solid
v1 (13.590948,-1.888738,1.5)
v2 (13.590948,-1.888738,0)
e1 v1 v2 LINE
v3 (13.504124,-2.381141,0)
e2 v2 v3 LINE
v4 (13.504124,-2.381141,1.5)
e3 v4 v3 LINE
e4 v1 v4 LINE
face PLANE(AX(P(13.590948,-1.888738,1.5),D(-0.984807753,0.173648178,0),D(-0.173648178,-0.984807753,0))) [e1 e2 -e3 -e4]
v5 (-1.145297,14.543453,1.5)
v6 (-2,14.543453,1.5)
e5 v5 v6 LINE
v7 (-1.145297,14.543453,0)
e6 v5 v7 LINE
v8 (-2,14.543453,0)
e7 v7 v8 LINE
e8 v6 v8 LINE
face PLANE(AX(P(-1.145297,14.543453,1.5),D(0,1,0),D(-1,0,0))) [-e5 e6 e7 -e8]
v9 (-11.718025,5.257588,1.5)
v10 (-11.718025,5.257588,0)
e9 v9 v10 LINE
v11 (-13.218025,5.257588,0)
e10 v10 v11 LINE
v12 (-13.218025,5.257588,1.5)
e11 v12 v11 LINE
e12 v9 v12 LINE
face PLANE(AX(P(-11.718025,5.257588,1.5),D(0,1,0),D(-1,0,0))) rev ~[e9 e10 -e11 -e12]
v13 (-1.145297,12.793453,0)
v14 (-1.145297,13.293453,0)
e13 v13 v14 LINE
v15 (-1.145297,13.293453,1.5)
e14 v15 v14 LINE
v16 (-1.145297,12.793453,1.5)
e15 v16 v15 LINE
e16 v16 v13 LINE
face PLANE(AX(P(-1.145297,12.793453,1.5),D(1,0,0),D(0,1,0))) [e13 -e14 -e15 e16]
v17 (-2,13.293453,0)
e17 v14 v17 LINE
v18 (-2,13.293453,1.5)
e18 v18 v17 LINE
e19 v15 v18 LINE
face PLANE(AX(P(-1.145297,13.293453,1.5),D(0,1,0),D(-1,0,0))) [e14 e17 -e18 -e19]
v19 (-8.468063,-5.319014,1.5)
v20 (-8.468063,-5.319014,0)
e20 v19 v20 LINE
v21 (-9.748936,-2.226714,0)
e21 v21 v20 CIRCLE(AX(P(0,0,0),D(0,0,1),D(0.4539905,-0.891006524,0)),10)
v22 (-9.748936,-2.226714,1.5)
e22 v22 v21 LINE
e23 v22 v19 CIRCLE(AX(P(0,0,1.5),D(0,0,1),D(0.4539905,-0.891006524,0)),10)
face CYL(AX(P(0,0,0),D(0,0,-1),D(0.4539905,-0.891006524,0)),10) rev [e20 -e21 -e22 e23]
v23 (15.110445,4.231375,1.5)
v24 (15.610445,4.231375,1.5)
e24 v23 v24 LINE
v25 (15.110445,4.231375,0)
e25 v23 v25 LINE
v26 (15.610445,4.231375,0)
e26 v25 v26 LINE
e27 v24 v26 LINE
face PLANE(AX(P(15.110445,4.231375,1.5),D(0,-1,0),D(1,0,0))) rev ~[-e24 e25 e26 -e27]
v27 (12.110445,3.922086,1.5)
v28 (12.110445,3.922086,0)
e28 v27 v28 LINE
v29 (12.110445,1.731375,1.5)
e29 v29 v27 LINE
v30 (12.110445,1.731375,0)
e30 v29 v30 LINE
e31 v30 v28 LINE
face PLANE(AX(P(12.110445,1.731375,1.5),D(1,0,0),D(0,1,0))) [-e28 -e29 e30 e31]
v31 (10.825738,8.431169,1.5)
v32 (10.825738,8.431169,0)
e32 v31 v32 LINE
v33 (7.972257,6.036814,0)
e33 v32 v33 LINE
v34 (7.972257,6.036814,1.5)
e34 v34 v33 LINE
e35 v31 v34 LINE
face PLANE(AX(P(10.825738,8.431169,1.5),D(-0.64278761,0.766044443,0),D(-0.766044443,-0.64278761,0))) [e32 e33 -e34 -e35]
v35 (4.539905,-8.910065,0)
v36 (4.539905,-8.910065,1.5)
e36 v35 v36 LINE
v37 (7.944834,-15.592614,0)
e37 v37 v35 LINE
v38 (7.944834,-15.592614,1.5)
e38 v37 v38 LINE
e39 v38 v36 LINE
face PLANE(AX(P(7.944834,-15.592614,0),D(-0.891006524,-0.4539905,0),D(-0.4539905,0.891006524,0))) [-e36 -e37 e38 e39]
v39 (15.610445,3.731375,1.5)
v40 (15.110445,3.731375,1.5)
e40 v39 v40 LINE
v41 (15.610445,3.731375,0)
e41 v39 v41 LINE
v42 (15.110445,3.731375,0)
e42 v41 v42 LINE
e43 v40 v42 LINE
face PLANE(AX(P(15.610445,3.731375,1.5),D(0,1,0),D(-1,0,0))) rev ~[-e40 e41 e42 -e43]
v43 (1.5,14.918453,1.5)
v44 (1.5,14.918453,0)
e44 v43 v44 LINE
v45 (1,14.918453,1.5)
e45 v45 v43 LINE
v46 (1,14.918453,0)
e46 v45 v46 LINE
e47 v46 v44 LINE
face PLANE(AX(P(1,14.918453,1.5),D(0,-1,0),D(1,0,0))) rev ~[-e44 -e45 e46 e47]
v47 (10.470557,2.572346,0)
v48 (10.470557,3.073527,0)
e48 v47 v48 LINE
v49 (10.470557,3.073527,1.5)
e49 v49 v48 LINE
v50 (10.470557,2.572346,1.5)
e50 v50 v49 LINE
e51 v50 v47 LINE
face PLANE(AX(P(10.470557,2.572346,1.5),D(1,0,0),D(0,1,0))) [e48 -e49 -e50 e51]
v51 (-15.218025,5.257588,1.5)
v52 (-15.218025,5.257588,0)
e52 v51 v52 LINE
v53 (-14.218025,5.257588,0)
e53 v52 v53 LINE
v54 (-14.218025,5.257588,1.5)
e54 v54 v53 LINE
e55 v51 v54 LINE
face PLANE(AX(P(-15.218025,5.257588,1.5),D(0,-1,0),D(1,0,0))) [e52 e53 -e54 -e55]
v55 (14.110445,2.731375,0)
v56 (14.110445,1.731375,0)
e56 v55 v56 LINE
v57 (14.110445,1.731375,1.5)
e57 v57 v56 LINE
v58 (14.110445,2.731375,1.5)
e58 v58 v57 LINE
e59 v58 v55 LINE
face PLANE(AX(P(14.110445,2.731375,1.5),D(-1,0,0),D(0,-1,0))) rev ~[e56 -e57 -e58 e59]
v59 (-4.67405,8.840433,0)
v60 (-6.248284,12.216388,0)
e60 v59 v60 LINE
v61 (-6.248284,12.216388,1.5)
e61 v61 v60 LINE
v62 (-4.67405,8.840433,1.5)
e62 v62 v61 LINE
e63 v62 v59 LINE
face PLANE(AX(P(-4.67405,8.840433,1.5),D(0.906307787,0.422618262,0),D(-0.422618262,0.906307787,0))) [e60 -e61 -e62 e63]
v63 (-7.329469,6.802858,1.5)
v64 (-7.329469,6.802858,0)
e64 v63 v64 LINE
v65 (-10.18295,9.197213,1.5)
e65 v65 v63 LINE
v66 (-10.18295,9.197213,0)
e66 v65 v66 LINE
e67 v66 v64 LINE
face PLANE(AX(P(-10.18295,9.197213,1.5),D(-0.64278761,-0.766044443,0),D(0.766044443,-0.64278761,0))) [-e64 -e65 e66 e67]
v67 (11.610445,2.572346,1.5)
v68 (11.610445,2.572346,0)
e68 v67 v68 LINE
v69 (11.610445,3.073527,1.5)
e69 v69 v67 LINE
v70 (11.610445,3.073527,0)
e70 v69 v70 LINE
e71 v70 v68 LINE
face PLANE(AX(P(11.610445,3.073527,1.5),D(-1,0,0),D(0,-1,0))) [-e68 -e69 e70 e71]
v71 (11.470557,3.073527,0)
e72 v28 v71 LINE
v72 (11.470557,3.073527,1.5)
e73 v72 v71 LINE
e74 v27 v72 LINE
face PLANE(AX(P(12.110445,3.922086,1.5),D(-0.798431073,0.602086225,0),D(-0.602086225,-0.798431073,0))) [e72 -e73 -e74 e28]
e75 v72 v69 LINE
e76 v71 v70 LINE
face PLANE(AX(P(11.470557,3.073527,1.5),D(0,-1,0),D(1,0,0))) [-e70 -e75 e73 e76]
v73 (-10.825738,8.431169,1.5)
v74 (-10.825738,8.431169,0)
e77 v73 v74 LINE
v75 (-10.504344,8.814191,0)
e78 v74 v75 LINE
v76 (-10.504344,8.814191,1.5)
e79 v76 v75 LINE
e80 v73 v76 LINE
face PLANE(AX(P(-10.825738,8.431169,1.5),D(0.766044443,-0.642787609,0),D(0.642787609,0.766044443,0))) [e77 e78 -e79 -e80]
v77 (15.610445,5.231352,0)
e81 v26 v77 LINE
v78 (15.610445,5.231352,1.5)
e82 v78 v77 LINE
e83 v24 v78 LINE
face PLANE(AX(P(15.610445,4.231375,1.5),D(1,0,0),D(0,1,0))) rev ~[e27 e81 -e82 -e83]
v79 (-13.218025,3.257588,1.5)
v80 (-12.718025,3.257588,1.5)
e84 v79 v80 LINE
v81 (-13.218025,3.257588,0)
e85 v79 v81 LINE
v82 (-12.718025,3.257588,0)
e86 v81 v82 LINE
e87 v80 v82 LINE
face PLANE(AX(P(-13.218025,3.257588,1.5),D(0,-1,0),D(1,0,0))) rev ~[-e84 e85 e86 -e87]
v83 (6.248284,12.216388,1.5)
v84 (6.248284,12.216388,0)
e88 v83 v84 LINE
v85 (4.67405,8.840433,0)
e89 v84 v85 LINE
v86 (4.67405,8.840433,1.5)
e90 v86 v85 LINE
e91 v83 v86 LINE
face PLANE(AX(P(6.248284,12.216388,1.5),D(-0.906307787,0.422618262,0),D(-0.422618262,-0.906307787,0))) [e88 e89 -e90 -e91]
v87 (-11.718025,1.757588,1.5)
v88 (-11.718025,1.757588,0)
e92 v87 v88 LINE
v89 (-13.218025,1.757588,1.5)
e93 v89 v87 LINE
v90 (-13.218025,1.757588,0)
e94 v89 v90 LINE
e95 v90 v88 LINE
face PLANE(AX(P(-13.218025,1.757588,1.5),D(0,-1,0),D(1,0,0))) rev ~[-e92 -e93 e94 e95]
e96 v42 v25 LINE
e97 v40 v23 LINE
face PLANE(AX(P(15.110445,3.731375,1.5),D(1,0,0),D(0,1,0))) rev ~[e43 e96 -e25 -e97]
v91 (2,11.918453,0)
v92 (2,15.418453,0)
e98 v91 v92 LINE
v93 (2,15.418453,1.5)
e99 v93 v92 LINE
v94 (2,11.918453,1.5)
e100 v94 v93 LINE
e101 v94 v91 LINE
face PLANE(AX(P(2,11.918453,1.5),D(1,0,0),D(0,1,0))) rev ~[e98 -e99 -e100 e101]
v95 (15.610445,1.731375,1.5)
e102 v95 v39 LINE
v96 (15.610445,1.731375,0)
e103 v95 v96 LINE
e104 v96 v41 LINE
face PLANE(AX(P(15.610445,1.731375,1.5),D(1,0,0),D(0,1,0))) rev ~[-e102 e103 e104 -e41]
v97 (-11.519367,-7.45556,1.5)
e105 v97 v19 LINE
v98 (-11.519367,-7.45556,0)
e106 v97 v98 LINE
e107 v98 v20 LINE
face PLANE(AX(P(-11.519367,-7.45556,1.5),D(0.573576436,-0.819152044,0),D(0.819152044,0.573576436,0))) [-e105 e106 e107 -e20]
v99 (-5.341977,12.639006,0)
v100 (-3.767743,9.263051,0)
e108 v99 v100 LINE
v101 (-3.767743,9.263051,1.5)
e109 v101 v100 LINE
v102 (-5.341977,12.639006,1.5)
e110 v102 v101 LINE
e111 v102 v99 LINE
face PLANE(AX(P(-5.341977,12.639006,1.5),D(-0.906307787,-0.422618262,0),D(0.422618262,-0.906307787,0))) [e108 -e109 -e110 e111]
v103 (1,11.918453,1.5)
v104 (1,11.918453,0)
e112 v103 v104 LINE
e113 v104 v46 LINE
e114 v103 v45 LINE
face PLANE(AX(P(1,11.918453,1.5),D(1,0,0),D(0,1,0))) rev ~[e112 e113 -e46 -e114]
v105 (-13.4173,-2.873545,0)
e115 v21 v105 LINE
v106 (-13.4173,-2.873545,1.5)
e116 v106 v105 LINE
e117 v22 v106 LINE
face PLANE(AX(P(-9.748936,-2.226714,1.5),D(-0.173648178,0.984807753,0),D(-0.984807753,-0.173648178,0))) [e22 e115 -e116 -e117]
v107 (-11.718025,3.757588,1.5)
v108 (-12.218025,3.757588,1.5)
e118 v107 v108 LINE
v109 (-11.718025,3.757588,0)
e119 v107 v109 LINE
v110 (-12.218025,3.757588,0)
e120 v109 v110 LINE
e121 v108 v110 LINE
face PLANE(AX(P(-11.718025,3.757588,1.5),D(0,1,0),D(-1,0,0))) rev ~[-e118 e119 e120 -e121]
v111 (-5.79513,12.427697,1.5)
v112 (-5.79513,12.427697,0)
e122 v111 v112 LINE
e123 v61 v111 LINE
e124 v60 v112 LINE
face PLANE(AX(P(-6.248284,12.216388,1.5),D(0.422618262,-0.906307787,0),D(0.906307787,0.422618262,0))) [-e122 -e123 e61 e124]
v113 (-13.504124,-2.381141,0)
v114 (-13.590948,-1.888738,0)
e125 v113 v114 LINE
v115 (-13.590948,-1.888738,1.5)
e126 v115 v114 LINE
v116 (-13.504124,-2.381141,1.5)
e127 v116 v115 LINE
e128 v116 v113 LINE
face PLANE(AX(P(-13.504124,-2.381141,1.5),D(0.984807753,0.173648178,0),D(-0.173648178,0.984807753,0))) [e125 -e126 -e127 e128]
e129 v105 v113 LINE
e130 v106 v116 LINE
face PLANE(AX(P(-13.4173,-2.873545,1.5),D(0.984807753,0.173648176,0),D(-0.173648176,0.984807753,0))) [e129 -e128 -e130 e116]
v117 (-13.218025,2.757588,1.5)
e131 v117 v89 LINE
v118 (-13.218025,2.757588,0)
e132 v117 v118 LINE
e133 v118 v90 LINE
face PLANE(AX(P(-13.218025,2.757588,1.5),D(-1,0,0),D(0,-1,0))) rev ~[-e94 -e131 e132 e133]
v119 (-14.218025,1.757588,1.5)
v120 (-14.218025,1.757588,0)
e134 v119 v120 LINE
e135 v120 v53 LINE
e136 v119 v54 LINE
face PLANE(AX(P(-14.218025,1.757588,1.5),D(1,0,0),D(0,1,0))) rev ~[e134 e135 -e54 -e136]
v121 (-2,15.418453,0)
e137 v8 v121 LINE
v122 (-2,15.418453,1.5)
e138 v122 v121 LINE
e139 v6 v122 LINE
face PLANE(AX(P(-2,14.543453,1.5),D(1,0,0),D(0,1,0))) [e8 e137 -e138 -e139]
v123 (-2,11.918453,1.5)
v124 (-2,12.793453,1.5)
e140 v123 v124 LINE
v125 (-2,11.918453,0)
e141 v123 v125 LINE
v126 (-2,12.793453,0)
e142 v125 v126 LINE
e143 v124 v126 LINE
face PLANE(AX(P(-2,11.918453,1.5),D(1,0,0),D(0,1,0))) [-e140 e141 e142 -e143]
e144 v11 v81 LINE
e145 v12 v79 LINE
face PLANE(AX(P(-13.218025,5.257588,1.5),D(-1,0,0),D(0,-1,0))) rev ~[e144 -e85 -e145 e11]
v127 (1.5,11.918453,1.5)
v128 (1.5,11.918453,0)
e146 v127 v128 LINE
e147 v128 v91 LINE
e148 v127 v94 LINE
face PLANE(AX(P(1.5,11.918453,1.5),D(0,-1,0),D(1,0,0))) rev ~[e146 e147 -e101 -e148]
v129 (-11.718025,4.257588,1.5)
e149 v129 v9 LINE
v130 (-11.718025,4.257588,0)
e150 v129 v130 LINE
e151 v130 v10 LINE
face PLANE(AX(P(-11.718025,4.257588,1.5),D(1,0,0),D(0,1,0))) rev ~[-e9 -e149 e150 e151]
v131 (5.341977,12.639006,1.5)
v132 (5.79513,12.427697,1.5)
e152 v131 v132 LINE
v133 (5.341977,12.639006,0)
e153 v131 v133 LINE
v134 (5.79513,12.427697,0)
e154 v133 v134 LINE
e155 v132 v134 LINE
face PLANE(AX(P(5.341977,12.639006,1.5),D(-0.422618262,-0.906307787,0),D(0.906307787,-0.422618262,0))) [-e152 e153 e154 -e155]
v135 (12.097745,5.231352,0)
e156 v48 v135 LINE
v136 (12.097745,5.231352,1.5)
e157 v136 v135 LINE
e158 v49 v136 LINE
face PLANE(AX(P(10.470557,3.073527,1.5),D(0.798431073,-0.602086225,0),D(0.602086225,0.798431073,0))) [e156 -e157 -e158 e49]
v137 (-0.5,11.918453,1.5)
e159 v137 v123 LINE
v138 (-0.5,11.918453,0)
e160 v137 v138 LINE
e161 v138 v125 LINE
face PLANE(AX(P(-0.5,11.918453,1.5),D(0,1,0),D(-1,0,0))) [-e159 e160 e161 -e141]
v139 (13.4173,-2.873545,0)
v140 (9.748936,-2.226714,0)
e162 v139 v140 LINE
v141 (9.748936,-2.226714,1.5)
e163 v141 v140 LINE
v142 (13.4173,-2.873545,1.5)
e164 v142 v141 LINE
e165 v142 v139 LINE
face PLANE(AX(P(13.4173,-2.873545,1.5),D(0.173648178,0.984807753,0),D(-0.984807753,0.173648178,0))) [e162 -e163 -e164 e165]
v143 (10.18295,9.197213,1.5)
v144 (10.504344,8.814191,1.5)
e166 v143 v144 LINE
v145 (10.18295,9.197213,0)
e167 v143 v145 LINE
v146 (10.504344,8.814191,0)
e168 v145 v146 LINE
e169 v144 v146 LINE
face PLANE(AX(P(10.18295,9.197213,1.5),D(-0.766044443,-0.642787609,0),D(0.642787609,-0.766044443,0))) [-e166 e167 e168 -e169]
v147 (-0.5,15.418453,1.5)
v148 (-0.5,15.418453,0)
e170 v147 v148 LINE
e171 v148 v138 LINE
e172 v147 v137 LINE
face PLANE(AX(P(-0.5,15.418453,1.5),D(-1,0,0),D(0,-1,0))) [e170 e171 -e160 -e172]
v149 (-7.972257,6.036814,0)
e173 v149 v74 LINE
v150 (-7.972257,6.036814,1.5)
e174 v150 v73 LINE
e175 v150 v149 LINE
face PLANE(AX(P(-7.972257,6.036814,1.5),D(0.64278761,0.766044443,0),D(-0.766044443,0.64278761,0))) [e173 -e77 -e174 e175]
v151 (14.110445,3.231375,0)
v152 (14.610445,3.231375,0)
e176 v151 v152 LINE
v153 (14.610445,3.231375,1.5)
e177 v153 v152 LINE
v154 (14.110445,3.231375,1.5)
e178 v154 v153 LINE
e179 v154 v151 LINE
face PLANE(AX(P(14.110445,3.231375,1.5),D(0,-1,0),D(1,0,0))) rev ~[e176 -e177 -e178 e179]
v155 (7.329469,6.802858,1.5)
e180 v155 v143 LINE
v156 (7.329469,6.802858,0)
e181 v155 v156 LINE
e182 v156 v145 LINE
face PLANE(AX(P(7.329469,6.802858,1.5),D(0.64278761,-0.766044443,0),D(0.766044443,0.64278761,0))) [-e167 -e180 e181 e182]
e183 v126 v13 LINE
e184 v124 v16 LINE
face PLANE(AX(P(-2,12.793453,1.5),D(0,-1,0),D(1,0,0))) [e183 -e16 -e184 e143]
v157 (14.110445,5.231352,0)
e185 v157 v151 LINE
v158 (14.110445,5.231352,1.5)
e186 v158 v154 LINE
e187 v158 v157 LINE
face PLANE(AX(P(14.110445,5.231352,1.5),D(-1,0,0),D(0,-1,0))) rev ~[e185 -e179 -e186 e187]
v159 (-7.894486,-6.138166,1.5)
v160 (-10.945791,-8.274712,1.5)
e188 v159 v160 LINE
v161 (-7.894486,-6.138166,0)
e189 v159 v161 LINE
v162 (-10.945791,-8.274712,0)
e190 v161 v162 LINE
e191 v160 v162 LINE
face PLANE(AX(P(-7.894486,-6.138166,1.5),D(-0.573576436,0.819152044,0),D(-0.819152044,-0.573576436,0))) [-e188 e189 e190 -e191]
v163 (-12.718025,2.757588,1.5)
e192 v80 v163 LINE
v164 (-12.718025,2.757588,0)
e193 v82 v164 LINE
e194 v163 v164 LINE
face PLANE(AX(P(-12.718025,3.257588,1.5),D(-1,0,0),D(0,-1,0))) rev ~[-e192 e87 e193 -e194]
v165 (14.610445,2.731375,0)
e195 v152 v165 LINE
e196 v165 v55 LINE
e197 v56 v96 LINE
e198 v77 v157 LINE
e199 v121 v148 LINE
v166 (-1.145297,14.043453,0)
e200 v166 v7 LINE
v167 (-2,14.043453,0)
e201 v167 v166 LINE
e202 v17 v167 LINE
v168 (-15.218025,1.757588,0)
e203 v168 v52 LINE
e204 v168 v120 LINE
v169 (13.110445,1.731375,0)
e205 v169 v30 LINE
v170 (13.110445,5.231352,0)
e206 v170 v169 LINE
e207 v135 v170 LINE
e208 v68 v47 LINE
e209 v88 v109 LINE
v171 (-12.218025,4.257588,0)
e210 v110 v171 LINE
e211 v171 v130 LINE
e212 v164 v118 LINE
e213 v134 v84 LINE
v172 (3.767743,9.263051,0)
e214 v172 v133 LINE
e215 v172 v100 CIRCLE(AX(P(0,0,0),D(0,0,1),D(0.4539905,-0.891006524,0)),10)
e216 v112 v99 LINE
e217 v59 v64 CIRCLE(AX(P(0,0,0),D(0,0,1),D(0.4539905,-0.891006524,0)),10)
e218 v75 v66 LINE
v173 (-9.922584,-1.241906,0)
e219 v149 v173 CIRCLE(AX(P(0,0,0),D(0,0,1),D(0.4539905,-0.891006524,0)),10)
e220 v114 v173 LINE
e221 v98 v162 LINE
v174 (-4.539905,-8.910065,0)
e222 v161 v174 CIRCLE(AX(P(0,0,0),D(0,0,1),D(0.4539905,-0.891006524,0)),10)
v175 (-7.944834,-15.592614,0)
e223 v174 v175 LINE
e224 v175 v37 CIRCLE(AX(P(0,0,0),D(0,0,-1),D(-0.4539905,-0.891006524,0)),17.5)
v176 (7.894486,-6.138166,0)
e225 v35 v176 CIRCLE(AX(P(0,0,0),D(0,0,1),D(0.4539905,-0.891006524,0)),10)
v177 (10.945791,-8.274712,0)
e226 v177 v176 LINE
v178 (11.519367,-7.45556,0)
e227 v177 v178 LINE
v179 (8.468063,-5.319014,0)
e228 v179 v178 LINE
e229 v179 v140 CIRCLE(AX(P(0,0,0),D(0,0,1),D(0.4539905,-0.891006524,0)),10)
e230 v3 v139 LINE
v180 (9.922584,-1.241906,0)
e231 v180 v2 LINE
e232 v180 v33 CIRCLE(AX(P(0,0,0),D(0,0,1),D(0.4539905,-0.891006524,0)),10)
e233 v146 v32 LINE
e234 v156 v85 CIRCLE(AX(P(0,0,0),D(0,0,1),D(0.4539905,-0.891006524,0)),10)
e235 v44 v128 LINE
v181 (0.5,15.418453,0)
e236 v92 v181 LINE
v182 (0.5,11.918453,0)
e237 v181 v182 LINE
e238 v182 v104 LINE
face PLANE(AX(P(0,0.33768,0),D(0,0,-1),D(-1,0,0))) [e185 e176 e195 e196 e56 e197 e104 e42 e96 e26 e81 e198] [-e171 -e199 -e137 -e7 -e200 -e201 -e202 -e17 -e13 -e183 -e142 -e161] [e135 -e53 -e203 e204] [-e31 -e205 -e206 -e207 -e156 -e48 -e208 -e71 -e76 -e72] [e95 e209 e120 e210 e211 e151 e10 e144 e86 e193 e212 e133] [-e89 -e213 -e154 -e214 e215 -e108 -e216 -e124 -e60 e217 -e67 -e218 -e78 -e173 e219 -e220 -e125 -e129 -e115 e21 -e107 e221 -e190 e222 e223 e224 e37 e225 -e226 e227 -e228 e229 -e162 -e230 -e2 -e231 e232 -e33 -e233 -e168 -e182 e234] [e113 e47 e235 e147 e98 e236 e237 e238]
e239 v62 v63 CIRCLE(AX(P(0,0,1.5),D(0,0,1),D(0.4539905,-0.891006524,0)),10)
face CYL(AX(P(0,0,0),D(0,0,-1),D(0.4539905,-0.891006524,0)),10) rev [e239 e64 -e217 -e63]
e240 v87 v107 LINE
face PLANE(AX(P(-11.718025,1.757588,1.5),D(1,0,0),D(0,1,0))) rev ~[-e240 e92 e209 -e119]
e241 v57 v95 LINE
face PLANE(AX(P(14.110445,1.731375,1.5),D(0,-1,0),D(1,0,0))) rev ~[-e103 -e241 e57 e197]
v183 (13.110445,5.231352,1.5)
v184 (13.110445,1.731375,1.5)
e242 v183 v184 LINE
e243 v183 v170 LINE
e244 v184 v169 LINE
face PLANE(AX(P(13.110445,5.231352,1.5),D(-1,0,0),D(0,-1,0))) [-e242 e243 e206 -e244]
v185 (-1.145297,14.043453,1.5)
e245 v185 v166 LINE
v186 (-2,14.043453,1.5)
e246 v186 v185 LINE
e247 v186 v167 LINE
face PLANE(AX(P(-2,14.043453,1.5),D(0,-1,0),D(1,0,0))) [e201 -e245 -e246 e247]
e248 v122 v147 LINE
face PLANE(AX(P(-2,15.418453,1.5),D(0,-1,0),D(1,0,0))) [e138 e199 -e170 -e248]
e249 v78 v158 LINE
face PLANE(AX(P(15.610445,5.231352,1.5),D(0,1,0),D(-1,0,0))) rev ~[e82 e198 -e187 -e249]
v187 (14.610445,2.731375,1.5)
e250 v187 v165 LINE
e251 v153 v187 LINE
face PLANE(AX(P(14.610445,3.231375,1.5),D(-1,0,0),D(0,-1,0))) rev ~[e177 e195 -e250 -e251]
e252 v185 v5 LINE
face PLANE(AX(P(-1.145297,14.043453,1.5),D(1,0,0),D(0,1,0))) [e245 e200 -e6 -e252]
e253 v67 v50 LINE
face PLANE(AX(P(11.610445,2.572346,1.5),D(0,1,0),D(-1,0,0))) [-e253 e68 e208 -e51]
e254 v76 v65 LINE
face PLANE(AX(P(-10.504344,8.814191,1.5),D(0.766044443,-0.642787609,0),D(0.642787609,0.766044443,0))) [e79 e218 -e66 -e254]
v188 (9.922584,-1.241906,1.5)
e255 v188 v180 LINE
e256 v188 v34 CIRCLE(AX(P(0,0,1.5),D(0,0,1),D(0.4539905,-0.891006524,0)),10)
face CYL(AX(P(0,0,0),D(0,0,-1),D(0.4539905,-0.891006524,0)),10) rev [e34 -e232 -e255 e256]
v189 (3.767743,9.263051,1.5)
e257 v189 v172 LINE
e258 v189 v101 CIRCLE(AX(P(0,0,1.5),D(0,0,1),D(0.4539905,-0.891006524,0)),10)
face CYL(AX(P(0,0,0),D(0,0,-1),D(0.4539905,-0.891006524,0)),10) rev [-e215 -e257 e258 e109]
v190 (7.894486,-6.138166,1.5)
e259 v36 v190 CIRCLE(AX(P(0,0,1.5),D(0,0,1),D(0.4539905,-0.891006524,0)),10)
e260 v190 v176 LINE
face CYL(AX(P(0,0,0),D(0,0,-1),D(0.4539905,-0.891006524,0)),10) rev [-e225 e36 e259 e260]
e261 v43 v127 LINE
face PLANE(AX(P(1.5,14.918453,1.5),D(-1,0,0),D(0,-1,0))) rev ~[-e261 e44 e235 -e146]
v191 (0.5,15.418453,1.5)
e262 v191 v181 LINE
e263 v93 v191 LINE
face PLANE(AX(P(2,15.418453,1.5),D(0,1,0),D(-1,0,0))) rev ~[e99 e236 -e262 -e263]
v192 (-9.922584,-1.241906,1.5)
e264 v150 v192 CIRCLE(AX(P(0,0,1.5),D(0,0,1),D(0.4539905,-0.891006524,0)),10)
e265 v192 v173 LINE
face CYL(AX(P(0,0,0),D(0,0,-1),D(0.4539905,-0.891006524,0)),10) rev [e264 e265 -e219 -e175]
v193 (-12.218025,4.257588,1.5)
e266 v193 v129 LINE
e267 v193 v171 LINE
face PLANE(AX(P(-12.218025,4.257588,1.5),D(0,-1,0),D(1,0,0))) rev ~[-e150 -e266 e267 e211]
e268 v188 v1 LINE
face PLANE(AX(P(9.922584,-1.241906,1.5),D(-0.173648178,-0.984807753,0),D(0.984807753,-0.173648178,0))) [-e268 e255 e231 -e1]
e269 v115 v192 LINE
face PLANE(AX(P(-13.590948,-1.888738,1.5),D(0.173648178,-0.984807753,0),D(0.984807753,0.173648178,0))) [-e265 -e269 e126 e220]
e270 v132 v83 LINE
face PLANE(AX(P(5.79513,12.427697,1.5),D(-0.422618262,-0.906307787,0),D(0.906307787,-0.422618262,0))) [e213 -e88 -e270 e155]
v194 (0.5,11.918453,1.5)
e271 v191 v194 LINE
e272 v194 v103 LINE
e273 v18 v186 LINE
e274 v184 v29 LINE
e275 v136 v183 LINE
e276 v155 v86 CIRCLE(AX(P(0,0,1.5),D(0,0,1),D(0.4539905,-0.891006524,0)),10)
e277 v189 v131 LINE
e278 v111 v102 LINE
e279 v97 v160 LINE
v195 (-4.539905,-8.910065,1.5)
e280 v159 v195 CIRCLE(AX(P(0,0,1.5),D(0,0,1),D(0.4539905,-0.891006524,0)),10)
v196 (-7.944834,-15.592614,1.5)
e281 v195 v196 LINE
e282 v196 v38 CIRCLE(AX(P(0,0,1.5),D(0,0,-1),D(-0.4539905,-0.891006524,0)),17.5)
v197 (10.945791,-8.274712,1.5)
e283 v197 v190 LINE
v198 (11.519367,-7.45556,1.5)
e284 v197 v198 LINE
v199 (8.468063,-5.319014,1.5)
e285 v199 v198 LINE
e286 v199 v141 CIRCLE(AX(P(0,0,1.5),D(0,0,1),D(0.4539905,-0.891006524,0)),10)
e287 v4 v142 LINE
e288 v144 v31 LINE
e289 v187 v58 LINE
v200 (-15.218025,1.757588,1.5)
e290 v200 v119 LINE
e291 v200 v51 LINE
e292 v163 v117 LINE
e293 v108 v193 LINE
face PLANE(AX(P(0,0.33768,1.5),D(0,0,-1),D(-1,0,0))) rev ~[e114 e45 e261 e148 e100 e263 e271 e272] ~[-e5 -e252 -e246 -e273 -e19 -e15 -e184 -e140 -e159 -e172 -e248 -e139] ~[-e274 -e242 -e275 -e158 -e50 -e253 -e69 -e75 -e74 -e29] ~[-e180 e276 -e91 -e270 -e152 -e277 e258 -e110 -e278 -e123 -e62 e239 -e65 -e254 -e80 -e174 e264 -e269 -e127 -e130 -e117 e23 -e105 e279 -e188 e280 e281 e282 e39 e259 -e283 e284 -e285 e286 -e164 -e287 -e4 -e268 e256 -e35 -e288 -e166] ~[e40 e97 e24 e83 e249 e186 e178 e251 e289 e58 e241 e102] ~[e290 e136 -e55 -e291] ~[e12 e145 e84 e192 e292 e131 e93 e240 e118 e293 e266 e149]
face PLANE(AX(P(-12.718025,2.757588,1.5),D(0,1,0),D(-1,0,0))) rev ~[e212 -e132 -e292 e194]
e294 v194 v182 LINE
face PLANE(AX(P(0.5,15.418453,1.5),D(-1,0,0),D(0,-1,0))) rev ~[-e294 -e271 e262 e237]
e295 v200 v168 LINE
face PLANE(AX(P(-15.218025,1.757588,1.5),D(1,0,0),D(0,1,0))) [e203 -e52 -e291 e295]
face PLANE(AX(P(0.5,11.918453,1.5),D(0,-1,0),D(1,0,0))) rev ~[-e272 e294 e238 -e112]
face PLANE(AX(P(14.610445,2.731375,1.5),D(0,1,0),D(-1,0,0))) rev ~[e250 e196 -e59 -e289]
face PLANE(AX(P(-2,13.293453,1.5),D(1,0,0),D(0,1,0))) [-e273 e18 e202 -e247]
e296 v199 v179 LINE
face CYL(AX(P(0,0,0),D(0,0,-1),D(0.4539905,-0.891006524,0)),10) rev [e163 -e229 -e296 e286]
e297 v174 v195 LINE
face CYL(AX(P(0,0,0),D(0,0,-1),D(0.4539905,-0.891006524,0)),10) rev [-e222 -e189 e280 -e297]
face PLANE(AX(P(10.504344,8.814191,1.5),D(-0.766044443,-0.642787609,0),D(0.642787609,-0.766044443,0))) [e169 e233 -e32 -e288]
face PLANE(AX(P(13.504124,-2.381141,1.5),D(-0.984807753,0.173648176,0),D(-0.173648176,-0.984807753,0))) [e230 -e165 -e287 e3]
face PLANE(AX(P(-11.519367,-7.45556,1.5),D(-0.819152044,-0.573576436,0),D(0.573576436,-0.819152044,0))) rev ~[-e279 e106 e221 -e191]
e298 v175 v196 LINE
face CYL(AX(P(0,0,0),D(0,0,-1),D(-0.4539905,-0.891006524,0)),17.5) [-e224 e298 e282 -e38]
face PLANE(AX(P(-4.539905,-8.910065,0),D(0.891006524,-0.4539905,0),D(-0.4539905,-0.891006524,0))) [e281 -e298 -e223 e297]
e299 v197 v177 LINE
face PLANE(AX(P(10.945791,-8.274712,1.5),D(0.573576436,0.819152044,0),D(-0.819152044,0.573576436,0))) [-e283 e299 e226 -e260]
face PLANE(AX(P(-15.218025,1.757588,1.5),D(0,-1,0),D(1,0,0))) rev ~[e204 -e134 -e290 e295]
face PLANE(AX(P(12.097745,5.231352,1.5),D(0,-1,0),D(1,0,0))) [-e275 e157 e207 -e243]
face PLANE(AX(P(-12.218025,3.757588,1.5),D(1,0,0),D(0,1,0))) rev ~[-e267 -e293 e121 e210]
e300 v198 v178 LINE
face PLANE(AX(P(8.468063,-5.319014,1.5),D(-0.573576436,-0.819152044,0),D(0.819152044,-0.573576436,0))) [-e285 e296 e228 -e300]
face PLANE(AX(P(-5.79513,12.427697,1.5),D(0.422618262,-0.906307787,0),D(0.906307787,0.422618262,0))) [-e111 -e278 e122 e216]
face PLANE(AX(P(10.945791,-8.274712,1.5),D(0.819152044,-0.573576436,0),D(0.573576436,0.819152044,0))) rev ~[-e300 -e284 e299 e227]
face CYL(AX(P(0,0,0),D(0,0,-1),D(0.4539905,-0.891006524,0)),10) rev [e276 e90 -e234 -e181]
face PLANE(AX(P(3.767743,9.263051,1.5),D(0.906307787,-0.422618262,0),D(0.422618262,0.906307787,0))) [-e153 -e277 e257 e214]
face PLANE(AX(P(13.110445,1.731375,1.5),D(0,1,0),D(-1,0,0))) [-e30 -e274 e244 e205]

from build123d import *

# Parameters (mm, degrees)
BOSS_EXTRUDE1_DEPTH = 1.5
SKETCH2_W           = 1
SKETCH2_H           = 3.5
CUT_EXTRUDE1_DEPTH  = 1.5


with BuildPart() as part:
    # Sketch1 → Boss-Extrude1 (new body)
    with BuildSketch(Plane.XY):
        with BuildLine():
            Line((-4.539904997, -8.910065242), (-7.944833745, -15.592614173))
            ThreePointArc((-7.944833745, -15.592614173), (0, 17.5), (7.944833745, -15.592614173))
            Line((7.944833745, -15.592614173), (4.539904997, -8.910065242))
            ThreePointArc((4.539904997, -8.910065242), (0, 10), (-4.539904997, -8.910065242))
        make_face()
    extrude(amount=BOSS_EXTRUDE1_DEPTH)

    # Sketch2 → Cut-Extrude1 (cut)
    with BuildSketch(Plane.XY.offset(1.5)):
        with Locations((-14.718025133, 3.507588082)):
            Rectangle(SKETCH2_W, SKETCH2_H)
        Polygon((-13.218025133, 5.257588082), (-13.218025133, 3.257588082), (-12.718025133, 3.257588082), (-12.718025133, 2.757588082), (-13.218025133, 2.757588082), (-13.218025133, 1.757588082), (-11.718025133, 1.757588082), (-11.718025133, 3.757588082), (-12.218025133, 3.757588082), (-12.218025133, 4.257588082), (-11.718025133, 4.257588082), (-11.718025133, 5.257588082), align=None)
        Polygon((-2, 15.418453076), (-0.5, 15.418453076), (-0.5, 11.918453076), (-2, 11.918453076), (-2, 12.793453076), (-1.1452971, 12.793453076), (-1.1452971, 13.293453076), (-2, 13.293453076), (-2, 14.043453076), (-1.1452971, 14.043453076), (-1.1452971, 14.543453076), (-2, 14.543453076), align=None)
        Polygon((0.5, 15.418453076), (0.5, 11.918453076), (1, 11.918453076), (1, 12.418453076), (1, 14.918453076), (1.5, 14.918453076), (1.5, 12.418453076), (1.5, 11.918453076), (2, 11.918453076), (2, 15.418453076), align=None)
        Polygon((12.097744761, 5.231352171), (13.110444891, 5.231352171), (13.110444891, 1.731375213), (12.110444891, 1.731375213), (12.110444891, 3.922086384), (11.470557234, 3.073526548), (11.610444891, 3.073526548), (11.610444891, 2.572345702), (10.470557234, 2.572345702), (10.470557234, 3.073526548), align=None)
        Polygon((14.110444891, 5.231352171), (14.110444891, 3.231375213), (14.610444891, 3.231375213), (14.610444891, 2.731375213), (14.110444891, 2.731375213), (14.110444891, 1.731375213), (15.610444891, 1.731375213), (15.610444891, 3.731375213), (15.110444891, 3.731375213), (15.110444891, 4.231375213), (15.610444891, 4.231375213), (15.610444891, 5.231352171), align=None)
        Polygon((-11.232578871, -7.865136399), (-11.519367089, -7.455560377), (-8.468062853, -5.319014149), (-7.473400559, -4.622544113), (-6.899824123, -5.441696158), (-7.894486417, -6.138166194), (-10.945790653, -8.274712421), align=None)
        Polygon((-13.504123972, -2.381141407), (-13.590948061, -1.888737531), (-9.922583819, -1.24190594), (-8.726772681, -1.031052172), (-8.553124503, -2.015859925), (-9.748935641, -2.226713693), (-13.417299884, -2.873545284), align=None)
        Polygon((-10.504343712, 8.814190935), (-10.182949908, 9.197213156), (-7.329469079, 6.802858445), (-6.399293139, 6.022348157), (-7.042080748, 5.256303714), (-7.972256688, 6.036814002), (-10.825737517, 8.431168713), align=None)
        Polygon((-5.795130453, 12.427697361), (-5.341976559, 12.639006492), (-3.76774269, 9.263051065), (-3.254574893, 8.162559174), (-4.16088268, 7.739940912), (-4.674050477, 8.840432803), (-6.248284346, 12.21638823), align=None)
        Polygon((5.795130453, 12.427697361), (6.248284346, 12.21638823), (4.674050477, 8.840432803), (4.16088268, 7.739940912), (3.254574893, 8.162559174), (3.76774269, 9.263051065), (5.341976559, 12.639006492), align=None)
        Polygon((10.504343712, 8.814190935), (10.825737517, 8.431168713), (7.972256688, 6.036814002), (7.042080748, 5.256303714), (6.399293139, 6.022348157), (7.329469079, 6.802858445), (10.182949908, 9.197213156), align=None)
        Polygon((13.504123972, -2.381141407), (13.417299884, -2.873545284), (9.748935641, -2.226713693), (8.553124503, -2.015859925), (8.726772681, -1.031052172), (9.922583819, -1.24190594), (13.590948061, -1.888737531), align=None)
        Polygon((11.232578871, -7.865136399), (10.945790653, -8.274712421), (7.894486417, -6.138166194), (6.899824123, -5.441696158), (7.473400559, -4.622544113), (8.468062853, -5.319014149), (11.519367089, -7.455560377), align=None)
    extrude(amount=-CUT_EXTRUDE1_DEPTH, mode=Mode.SUBTRACT)


solid = part.part
